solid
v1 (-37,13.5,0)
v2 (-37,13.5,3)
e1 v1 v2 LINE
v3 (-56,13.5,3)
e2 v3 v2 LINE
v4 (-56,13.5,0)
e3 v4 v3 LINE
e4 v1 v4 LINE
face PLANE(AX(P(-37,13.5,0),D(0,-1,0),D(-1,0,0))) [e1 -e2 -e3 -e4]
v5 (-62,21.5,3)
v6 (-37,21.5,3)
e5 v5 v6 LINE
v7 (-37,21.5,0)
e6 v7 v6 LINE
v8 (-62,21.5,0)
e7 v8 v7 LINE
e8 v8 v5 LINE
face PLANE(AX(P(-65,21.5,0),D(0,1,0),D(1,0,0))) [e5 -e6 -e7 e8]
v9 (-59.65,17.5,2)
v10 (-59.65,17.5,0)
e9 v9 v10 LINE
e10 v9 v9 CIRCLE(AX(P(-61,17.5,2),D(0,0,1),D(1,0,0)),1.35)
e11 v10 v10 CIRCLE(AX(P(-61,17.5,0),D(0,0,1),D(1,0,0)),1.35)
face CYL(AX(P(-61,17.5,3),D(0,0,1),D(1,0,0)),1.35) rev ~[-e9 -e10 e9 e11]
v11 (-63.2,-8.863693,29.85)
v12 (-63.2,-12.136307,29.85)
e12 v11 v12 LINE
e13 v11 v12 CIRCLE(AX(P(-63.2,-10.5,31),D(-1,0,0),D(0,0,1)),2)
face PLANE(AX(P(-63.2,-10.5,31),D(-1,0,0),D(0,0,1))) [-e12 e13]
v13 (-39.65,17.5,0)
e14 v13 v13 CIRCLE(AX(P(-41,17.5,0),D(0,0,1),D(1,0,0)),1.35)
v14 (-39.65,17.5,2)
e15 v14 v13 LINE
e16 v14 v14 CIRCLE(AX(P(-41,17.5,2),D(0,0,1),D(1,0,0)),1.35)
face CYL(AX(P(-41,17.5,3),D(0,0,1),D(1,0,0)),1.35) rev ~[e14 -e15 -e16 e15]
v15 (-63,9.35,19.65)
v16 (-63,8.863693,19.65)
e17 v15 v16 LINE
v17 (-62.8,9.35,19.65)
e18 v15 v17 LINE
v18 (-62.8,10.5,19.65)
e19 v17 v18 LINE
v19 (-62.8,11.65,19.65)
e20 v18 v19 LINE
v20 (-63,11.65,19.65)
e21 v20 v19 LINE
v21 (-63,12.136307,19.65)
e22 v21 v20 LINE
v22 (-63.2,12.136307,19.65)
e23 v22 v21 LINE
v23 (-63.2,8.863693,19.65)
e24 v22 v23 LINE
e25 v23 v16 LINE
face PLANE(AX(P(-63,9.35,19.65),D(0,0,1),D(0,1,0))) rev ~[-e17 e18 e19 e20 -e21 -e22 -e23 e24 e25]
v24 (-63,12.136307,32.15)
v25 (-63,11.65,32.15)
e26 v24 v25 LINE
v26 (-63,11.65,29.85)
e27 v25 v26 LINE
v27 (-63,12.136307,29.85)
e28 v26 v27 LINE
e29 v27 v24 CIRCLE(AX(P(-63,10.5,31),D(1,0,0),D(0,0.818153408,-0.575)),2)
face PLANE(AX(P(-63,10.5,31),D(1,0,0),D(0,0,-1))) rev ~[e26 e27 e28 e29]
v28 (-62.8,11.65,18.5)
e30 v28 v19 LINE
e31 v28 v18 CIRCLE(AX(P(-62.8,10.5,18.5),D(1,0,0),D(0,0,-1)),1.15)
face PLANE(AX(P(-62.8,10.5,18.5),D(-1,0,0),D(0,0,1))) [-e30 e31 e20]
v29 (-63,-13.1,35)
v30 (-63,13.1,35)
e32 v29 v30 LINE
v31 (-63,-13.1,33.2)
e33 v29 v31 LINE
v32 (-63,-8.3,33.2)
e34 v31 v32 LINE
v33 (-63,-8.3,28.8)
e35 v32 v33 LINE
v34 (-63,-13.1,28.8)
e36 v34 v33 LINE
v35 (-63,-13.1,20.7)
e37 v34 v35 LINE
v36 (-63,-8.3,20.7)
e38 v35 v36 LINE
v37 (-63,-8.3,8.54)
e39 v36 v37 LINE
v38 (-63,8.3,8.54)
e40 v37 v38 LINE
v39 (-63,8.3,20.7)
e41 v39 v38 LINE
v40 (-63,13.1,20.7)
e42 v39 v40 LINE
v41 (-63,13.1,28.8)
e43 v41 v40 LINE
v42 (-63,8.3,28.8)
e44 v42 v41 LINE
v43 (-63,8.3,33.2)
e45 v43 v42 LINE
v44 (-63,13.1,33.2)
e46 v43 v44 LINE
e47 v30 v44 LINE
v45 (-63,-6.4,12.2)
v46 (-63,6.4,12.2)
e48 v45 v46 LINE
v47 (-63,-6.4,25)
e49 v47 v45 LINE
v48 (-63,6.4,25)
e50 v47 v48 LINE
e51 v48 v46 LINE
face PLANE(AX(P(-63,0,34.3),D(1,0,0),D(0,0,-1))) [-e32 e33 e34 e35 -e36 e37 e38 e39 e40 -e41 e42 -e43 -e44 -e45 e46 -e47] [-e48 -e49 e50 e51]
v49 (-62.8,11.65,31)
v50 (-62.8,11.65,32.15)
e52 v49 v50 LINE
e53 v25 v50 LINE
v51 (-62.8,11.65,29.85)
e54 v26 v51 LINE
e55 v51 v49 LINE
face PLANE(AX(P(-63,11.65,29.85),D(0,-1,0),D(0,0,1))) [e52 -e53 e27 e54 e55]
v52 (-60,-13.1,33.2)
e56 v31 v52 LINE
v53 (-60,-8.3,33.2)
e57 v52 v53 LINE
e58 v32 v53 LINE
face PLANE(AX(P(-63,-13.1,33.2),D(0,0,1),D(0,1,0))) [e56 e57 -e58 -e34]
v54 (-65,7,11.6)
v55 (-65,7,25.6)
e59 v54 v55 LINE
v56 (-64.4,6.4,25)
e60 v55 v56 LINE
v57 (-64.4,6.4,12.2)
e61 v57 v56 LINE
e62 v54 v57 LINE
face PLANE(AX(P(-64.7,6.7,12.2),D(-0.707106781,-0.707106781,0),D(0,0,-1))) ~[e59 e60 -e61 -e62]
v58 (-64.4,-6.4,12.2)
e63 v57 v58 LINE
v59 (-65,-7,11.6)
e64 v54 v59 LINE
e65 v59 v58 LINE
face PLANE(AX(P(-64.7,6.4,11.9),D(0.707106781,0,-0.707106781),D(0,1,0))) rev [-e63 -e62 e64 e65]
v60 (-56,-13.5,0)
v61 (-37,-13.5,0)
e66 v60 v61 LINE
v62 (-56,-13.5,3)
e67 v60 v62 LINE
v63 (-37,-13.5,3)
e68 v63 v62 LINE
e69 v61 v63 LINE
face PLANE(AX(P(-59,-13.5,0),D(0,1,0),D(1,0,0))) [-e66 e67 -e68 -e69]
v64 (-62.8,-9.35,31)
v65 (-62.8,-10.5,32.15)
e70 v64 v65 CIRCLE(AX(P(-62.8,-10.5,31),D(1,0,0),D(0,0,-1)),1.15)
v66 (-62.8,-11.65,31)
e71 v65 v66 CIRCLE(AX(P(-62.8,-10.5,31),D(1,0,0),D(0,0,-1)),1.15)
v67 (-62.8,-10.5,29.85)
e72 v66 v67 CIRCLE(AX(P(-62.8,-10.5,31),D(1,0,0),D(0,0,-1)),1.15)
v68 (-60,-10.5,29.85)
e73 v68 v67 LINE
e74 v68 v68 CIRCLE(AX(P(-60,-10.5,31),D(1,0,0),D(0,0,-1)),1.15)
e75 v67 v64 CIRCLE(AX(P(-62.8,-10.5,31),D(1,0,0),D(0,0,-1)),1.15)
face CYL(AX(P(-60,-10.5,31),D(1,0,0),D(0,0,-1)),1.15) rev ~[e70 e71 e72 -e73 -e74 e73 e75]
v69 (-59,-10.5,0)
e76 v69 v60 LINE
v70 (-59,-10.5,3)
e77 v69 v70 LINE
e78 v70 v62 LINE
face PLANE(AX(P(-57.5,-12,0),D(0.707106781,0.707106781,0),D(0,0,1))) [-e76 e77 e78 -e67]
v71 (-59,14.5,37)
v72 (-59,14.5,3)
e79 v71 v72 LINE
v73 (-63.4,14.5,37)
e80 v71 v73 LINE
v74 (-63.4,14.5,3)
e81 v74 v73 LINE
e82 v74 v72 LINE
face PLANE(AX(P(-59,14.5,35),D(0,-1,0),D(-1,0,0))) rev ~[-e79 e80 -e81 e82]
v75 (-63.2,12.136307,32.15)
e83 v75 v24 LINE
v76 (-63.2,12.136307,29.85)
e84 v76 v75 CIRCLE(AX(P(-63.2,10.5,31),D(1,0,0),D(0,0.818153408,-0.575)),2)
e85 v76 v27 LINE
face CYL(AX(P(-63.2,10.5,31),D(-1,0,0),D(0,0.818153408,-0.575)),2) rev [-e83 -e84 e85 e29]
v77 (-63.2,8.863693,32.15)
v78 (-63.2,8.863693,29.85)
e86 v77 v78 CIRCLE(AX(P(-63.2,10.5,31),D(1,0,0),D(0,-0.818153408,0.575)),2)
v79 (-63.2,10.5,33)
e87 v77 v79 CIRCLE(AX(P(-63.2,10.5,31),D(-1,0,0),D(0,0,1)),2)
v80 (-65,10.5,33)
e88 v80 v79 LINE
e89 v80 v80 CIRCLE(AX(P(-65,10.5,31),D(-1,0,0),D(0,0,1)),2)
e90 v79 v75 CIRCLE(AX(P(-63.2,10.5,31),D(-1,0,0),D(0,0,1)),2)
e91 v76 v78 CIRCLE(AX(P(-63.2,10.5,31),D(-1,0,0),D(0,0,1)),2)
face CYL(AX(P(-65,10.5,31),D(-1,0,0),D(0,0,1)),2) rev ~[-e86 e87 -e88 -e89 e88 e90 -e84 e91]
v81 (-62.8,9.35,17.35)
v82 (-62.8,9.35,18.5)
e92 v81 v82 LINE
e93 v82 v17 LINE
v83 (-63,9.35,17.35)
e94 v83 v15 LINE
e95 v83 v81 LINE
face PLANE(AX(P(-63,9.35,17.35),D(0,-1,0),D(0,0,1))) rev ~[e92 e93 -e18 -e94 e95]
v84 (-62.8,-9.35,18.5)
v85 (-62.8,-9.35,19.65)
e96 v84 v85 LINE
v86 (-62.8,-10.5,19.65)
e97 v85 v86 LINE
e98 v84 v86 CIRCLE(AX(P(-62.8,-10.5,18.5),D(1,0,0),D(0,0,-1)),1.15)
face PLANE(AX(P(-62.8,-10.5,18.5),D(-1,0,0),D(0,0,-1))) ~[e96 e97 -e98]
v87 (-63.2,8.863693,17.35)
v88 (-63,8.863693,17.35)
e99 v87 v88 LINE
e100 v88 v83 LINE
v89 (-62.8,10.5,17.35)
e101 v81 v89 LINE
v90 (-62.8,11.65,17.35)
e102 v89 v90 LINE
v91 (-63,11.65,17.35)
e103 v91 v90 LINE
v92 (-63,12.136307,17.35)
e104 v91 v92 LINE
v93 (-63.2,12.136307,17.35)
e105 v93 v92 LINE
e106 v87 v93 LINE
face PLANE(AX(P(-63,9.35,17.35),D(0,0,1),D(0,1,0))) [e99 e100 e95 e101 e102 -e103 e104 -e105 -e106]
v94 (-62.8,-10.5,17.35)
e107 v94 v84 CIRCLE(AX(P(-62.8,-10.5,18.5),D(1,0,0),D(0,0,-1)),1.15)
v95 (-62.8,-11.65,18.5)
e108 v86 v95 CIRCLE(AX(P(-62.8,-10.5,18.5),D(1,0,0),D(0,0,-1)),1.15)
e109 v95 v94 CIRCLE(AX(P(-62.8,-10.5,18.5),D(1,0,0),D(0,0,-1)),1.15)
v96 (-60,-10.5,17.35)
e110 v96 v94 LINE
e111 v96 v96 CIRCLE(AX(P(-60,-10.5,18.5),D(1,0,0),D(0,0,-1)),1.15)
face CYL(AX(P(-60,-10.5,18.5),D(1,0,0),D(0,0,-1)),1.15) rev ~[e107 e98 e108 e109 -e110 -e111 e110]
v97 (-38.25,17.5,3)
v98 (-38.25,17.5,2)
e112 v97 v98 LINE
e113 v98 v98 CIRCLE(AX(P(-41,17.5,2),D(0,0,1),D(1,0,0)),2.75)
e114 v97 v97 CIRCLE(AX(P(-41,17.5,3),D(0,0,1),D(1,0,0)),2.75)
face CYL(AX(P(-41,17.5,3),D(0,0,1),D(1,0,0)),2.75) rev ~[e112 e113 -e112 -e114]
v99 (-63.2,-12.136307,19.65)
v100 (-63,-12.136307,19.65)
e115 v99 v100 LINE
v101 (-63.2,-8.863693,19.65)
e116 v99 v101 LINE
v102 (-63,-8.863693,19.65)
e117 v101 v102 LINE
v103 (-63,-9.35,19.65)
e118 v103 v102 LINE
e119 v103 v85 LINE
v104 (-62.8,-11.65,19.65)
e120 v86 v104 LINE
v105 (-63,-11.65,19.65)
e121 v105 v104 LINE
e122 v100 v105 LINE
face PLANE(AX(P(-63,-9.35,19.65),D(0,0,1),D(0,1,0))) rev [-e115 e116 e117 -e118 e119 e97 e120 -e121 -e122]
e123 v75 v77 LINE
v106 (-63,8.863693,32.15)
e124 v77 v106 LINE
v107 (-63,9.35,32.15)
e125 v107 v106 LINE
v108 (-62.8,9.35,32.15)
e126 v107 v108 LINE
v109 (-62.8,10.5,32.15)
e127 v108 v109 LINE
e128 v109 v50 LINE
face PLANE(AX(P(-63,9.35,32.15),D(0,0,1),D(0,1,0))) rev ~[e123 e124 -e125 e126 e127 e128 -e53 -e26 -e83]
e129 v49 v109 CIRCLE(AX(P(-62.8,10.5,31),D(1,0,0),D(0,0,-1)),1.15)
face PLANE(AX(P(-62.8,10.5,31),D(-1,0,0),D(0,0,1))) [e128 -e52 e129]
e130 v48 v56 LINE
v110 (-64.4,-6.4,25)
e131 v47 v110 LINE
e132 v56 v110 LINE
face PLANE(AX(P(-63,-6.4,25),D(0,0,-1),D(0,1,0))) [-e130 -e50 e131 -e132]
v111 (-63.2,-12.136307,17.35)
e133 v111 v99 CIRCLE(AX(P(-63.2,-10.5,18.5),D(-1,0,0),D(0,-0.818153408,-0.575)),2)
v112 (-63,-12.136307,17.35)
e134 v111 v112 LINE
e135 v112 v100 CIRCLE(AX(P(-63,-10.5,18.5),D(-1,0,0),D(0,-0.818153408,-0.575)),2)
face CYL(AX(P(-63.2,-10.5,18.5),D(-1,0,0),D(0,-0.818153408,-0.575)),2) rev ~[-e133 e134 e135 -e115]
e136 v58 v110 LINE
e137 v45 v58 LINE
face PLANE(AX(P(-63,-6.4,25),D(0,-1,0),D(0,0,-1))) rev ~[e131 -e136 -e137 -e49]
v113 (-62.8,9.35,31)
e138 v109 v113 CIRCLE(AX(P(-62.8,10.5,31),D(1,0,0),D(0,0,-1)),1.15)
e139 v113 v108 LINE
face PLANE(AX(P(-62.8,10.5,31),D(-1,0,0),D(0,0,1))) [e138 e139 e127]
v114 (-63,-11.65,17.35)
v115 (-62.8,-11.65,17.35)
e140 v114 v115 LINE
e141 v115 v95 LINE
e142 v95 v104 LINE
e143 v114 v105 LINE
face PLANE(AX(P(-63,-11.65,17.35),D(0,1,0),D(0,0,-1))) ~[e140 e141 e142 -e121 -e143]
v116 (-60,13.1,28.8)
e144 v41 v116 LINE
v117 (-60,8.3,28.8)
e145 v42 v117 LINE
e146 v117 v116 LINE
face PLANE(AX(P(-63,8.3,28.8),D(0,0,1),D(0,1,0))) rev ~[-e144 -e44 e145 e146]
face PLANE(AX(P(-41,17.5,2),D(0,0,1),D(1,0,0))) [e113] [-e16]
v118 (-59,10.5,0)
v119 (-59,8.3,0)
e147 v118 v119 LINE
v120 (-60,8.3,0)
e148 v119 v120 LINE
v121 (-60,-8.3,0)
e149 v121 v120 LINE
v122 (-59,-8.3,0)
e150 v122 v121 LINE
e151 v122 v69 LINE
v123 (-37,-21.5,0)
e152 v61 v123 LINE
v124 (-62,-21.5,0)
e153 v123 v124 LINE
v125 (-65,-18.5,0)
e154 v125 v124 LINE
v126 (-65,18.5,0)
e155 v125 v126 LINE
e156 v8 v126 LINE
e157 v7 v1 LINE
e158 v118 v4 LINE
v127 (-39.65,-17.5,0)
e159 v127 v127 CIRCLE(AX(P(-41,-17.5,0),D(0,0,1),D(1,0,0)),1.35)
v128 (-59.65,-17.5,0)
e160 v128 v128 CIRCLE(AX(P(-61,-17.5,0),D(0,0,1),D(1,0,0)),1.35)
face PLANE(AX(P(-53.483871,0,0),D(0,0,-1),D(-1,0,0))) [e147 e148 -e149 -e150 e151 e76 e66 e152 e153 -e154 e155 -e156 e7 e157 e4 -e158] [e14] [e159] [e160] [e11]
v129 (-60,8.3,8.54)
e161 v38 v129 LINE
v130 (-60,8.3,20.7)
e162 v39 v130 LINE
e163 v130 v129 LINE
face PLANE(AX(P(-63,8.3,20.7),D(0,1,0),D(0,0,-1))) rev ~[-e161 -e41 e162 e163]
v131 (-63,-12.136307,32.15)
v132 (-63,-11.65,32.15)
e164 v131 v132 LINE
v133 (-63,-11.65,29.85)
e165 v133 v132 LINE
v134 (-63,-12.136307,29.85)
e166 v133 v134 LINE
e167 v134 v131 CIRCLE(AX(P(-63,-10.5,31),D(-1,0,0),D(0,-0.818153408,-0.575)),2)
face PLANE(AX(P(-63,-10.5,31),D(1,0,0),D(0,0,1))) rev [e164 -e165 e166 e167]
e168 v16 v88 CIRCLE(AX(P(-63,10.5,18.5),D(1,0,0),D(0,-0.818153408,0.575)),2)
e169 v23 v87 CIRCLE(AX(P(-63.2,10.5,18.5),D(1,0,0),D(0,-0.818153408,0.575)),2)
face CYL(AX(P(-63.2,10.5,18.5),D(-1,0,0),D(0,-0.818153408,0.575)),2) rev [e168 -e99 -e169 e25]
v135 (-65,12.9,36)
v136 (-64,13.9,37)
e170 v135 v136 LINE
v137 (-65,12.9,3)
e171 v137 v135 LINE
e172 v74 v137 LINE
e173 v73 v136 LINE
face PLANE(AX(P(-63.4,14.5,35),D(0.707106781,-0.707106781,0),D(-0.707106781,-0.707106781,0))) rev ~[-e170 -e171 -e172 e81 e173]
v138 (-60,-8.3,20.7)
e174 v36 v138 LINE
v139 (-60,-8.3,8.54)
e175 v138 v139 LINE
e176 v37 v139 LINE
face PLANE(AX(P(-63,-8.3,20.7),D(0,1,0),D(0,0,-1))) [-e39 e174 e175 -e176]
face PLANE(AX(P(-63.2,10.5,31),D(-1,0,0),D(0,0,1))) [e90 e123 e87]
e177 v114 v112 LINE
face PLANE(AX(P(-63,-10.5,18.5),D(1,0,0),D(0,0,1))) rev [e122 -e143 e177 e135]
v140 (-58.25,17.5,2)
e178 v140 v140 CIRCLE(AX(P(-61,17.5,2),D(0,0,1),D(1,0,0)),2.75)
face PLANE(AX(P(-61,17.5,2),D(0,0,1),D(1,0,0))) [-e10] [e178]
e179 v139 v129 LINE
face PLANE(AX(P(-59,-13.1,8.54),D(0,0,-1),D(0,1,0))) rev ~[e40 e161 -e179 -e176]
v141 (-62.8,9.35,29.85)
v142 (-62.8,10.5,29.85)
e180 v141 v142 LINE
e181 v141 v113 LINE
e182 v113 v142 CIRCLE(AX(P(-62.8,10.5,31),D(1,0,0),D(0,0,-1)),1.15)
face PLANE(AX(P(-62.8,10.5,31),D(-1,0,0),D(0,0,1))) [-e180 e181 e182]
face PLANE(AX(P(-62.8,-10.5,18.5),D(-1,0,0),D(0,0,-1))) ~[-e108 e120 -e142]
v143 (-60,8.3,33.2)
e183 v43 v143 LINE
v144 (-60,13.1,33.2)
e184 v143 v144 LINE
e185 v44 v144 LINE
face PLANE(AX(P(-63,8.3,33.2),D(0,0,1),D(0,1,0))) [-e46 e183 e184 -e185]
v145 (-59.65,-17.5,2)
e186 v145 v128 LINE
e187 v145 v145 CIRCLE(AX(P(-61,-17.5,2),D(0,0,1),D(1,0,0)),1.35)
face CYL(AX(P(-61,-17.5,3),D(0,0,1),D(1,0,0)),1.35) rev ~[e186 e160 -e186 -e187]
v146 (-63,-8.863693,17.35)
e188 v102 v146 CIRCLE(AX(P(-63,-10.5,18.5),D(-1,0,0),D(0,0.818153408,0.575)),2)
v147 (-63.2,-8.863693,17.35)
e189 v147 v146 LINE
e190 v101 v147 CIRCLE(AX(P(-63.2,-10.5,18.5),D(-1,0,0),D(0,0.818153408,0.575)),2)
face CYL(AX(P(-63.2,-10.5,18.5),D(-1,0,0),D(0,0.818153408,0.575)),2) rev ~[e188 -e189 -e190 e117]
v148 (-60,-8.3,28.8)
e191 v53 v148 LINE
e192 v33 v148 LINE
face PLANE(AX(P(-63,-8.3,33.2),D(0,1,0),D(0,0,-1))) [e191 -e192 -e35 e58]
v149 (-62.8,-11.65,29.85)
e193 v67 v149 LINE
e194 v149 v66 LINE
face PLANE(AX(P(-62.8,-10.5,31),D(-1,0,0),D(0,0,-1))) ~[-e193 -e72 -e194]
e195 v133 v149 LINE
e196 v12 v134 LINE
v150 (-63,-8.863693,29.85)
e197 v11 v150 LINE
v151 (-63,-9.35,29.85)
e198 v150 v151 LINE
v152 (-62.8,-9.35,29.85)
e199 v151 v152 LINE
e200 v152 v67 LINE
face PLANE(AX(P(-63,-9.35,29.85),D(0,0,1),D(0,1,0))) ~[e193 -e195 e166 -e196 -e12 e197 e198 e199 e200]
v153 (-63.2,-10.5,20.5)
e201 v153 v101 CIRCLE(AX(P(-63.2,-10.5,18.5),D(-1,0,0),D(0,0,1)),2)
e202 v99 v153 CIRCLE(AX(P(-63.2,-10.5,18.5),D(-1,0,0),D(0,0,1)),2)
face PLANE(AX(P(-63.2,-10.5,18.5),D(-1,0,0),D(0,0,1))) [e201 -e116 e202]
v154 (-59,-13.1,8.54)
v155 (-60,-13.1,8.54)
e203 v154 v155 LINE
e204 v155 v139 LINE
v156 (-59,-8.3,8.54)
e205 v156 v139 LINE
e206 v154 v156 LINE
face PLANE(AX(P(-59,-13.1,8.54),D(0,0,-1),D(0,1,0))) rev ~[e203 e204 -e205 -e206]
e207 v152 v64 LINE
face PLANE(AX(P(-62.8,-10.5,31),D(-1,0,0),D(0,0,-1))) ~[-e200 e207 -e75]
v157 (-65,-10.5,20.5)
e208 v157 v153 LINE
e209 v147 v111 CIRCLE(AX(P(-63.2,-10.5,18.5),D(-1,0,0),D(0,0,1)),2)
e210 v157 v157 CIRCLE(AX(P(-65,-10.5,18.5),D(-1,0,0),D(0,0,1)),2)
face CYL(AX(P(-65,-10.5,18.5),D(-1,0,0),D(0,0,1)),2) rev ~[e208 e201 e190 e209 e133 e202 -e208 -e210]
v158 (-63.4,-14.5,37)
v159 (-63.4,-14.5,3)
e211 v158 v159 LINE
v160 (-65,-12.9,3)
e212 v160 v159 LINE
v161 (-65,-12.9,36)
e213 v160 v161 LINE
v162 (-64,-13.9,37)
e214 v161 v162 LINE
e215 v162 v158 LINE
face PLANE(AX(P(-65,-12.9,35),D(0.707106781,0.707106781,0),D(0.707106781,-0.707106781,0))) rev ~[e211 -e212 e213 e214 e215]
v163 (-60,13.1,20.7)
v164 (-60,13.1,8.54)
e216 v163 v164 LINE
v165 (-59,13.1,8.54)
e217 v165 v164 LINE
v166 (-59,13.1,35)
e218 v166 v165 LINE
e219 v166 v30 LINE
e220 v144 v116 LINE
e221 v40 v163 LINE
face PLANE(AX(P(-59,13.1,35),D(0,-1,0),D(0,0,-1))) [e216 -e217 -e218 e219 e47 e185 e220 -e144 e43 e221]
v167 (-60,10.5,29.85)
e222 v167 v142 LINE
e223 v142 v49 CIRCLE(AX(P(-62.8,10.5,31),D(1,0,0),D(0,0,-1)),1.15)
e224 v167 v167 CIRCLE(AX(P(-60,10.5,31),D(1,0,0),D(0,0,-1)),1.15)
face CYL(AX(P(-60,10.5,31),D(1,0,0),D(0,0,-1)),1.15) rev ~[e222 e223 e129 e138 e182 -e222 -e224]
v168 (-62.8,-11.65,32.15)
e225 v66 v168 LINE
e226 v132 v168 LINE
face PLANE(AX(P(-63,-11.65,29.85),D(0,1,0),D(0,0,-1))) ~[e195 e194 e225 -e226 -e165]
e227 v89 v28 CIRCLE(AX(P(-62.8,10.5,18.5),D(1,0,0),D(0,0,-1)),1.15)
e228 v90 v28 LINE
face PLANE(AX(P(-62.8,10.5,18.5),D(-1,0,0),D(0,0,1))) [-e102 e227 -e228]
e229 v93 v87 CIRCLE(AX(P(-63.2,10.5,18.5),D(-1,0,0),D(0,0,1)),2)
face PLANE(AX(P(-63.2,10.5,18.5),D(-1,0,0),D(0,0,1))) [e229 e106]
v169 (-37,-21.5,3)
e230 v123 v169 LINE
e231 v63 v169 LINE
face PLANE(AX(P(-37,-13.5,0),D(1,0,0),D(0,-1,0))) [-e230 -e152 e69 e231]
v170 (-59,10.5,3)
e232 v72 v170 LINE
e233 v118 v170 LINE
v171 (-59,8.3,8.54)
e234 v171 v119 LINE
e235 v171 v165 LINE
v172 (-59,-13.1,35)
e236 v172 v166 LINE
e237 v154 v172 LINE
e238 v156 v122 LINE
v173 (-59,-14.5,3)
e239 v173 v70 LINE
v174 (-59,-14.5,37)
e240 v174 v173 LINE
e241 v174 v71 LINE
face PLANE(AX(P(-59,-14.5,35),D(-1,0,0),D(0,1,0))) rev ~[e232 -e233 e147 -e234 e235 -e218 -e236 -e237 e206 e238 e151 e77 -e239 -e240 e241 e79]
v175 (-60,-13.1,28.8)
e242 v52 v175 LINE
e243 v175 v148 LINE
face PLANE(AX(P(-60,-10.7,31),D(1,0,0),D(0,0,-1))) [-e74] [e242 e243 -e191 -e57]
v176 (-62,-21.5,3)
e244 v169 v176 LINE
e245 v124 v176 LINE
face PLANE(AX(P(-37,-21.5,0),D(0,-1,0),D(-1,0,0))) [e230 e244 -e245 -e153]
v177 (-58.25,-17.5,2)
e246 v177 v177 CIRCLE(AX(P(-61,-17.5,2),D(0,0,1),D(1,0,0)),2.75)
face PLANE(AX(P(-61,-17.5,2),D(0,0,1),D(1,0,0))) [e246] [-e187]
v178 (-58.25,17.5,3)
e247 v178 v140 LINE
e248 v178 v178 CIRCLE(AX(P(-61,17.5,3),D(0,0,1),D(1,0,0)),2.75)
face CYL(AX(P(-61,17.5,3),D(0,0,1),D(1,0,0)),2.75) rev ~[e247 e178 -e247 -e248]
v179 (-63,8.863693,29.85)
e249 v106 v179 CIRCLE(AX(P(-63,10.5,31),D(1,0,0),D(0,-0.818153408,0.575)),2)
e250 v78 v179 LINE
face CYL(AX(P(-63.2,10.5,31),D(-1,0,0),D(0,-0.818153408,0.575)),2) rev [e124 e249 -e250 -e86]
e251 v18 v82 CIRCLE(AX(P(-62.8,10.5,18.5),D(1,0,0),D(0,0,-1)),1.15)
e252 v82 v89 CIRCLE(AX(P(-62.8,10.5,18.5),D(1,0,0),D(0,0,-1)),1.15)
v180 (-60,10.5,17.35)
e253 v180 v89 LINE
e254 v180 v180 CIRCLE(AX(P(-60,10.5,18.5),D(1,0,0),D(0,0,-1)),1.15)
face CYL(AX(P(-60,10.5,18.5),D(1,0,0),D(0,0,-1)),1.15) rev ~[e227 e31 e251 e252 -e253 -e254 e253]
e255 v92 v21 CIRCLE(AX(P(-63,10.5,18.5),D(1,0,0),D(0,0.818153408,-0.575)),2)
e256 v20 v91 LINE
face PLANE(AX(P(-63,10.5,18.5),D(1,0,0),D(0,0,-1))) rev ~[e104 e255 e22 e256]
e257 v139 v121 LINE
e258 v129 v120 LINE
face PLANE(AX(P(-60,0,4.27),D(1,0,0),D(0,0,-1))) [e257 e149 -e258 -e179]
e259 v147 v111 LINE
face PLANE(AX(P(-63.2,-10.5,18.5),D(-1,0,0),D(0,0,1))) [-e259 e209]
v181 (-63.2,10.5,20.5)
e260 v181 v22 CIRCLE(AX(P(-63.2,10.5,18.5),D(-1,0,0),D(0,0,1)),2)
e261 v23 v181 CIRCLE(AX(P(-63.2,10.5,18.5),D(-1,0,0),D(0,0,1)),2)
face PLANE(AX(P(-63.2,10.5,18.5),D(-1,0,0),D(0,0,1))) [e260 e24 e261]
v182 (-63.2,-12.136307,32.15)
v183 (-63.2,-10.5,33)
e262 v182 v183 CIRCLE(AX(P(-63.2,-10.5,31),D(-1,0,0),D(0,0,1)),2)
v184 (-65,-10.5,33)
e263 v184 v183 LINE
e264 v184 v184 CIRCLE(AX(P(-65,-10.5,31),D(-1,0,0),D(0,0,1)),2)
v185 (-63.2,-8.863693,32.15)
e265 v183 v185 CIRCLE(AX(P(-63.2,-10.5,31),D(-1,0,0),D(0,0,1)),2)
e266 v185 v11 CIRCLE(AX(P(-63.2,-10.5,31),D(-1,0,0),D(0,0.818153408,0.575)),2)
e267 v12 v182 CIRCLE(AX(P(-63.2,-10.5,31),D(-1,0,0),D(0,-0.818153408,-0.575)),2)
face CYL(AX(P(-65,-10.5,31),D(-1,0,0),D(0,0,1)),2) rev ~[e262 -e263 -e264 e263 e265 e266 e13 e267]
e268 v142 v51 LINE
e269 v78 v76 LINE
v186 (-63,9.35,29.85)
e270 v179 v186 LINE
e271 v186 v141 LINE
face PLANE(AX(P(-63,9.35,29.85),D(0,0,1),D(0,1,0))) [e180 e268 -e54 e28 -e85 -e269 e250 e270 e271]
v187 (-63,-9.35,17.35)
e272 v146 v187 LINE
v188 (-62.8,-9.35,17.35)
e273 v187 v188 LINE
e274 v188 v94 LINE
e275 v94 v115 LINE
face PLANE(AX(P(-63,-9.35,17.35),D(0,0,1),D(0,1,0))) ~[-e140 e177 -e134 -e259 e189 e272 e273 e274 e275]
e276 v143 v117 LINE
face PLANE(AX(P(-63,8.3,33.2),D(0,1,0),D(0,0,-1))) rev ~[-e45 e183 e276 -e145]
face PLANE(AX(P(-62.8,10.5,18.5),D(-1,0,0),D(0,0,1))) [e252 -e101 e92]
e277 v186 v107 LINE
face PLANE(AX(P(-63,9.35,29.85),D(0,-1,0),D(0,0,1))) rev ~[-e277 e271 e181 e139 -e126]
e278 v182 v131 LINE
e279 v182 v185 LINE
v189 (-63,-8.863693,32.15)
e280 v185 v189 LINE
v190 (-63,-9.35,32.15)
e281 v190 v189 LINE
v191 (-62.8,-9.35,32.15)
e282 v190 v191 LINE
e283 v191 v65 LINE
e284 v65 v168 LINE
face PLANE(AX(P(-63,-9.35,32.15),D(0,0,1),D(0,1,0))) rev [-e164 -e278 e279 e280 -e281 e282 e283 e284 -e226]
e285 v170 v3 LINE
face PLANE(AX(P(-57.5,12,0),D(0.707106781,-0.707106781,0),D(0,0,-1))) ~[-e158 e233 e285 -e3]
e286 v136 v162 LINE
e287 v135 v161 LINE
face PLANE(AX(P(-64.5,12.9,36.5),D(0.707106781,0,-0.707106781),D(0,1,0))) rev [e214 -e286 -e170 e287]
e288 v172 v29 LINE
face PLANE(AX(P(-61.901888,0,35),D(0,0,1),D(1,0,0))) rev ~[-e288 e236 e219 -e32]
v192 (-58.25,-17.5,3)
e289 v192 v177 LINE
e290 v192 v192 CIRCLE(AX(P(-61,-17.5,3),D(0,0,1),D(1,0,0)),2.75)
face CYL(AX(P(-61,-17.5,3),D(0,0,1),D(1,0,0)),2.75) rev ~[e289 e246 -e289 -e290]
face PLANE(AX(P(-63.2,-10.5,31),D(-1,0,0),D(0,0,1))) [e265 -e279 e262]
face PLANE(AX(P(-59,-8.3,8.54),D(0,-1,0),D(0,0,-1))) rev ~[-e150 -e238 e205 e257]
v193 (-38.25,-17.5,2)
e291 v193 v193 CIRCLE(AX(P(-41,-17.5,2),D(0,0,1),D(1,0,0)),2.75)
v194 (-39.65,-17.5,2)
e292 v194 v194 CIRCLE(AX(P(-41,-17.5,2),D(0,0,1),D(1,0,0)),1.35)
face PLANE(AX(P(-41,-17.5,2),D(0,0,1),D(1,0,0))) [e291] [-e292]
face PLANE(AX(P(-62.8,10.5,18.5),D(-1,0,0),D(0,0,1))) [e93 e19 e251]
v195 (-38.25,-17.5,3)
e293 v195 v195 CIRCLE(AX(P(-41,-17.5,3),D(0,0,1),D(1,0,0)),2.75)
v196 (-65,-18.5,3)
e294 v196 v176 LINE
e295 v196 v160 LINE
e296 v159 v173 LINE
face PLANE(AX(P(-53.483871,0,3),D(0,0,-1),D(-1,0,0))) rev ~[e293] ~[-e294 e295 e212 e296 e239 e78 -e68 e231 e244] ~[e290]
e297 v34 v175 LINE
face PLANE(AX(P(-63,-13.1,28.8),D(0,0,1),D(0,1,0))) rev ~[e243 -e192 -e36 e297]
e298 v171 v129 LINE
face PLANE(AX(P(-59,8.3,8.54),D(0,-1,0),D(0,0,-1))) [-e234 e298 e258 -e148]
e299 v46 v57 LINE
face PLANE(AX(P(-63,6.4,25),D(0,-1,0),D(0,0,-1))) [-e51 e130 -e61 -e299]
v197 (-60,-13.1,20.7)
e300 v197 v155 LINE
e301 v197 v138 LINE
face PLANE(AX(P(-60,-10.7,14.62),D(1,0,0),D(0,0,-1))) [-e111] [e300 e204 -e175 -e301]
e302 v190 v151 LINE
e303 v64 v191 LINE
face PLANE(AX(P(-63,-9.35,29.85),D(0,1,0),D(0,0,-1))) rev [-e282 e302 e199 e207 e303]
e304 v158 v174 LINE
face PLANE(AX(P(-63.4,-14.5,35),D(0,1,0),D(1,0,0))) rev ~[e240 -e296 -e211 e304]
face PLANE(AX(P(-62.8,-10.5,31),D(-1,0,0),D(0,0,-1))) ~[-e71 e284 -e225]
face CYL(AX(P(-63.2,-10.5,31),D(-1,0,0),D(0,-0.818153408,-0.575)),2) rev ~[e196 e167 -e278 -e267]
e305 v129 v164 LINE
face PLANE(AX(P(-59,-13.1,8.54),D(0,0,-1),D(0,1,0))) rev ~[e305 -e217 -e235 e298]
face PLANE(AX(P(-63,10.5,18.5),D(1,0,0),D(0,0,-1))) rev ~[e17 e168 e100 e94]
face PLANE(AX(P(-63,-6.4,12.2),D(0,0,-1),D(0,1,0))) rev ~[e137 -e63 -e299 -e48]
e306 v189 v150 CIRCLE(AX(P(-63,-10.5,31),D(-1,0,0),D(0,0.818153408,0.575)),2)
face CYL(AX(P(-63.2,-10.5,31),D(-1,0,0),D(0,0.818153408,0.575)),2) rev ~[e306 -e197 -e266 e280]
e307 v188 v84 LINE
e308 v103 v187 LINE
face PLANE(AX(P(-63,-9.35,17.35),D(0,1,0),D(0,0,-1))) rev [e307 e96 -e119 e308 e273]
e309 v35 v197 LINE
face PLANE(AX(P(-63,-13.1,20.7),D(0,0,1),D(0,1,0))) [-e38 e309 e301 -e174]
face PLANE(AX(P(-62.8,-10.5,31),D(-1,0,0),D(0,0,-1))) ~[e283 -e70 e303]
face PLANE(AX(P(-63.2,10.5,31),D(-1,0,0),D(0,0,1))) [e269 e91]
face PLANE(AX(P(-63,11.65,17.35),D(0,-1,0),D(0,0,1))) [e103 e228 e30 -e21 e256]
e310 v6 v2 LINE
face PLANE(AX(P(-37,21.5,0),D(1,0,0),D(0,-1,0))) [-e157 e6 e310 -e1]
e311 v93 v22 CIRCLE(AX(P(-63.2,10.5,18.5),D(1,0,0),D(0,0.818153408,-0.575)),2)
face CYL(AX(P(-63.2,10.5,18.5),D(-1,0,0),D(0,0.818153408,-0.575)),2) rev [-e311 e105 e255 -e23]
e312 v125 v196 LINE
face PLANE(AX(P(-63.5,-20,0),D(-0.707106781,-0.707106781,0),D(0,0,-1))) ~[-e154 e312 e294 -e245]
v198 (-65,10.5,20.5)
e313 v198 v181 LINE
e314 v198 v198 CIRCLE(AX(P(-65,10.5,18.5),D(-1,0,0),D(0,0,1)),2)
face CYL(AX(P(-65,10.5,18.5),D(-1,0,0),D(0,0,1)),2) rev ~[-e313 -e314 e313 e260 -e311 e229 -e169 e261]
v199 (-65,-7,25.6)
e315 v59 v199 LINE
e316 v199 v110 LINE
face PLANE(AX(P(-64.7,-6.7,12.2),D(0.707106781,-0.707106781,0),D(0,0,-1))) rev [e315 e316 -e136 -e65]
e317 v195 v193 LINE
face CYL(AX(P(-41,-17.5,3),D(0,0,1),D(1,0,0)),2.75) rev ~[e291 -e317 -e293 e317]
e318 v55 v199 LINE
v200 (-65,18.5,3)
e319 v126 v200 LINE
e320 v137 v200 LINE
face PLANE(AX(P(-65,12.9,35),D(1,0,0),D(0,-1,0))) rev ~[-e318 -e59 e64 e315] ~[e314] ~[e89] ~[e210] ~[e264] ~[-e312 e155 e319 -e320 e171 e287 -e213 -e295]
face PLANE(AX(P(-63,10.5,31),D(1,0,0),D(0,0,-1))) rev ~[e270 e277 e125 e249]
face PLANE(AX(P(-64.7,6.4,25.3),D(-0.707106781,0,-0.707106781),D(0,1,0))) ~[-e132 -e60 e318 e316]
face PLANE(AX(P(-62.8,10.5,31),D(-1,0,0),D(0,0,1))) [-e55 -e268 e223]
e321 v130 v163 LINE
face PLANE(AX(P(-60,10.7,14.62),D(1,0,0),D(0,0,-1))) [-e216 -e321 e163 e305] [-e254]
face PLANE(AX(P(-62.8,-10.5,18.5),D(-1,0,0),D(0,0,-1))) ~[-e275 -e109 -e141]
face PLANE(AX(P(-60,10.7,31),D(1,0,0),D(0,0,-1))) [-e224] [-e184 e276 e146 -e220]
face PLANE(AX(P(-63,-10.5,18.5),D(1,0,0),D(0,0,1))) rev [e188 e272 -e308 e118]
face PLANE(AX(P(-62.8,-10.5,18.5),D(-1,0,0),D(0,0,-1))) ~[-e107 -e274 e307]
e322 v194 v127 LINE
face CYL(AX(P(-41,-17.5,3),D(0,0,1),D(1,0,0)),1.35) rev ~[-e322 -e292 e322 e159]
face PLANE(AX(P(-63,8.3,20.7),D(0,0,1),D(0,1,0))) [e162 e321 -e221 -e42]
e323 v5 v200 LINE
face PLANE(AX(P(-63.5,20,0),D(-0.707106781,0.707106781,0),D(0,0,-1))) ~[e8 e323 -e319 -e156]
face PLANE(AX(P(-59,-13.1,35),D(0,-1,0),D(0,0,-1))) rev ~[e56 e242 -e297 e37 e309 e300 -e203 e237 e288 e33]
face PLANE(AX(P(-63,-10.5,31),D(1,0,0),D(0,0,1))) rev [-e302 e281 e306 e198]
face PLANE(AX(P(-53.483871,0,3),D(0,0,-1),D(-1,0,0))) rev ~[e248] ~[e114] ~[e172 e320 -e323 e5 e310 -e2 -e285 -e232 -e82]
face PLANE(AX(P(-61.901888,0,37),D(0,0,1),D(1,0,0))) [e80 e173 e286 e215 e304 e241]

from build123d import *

# Parameters (mm, degrees)
BOSS_EXTRUDE1_DEPTH  = 3
SKETCH3_R            = 1.35
CUT_EXTRUDE1_DEPTH   = 4
SKETCH4_W            = 6
SKETCH4_H            = 27
BOSS_EXTRUDE2_DEPTH  = 32
SKETCH5_R            = 9
CUT_EXTRUDE2_DEPTH   = 29
SKETCH6_W            = 8
SKETCH6_H            = 25
CUT_EXTRUDE3_DEPTH   = 3
SKETCH7_R            = 2.5
SKETCH7_R_2          = 1.65
BOSS_EXTRUDE3_DEPTH  = 3
SKETCH8_R            = 1.65
CUT_EXTRUDE4_DEPTH   = 3
CHAMFER1_SIZE        = 0.6
SKETCH9_R            = 2.75
CUT_EXTRUDE5_DEPTH   = 1
CHAMFER2_SIZE        = 3
CHAMFER3_SIZE        = 3
SKETCH10_W           = 32
SKETCH10_H           = 27
CUT_EXTRUDE6_DEPTH   = 20
SKETCH11_R           = 1.65
BOSS_EXTRUDE5_DEPTH  = 3
BOSS_EXTRUDE6_DEPTH  = 3
SKETCH12_R           = 9
BOSS_EXTRUDE7_DEPTH  = 3
SKETCH15_W           = 25.06
SKETCH15_H           = 26.2
CUT_EXTRUDE7_DEPTH   = 4
SKETCH16_W           = 12.8
SKETCH16_H           = 12.8
CUT_EXTRUDE8_DEPTH   = 3
SKETCH17_W           = 12.16
SKETCH17_H           = 4.8
SKETCH17_W_2         = 4.4
BOSS_EXTRUDE8_DEPTH  = 3
SKETCH18_R           = 1.15
CUT_EXTRUDE9_DEPTH   = 6
SKETCH19_R           = 2
CUT_EXTRUDE11_DEPTH  = 1.8
CUT_EXTRUDE13_DEPTH  = 0.2
SKETCH21_W           = 2.3
SKETCH21_H           = 2.3
CUT_EXTRUDE14_DEPTH  = 0.2
CHAMFER4_SIZE        = 0.6
SKETCH22_W           = 1.4
SKETCH22_H           = 26.2
CUT_EXTRUDE15_DEPTH  = 4
BOSS_EXTRUDE9_DEPTH  = 32
SKETCH24_W           = 8.54
SKETCH24_H           = 16.6
CUT_EXTRUDE16_DEPTH  = 1
BOSS_EXTRUDE10_DEPTH = 2
CHAMFER5_SIZE        = 1


with BuildPart() as part:
    # Sketch2 → Boss-Extrude1 (new body)
    with BuildSketch(Plane.XY):
        Polygon((-65, 21.5), (-37, 21.5), (-37, 13.5), (-59, 13.5), (-59, -13.5), (-37, -13.5), (-37, -21.5), (-65, -21.5), align=None)
    extrude(amount=BOSS_EXTRUDE1_DEPTH)

    # Sketch3 → Cut-Extrude1 (cut, through all)
    with BuildSketch(Plane.XY.offset(3)):
        with Locations((-41, 17.5)):
            Circle(SKETCH3_R)
        with Locations((-61, 17.5)):
            Circle(SKETCH3_R)
        with Locations((-61, -17.5)):
            Circle(SKETCH3_R)
        with Locations((-41, -17.5)):
            Circle(SKETCH3_R)
    extrude(amount=-CUT_EXTRUDE1_DEPTH, mode=Mode.SUBTRACT)

    # Sketch4 → Boss-Extrude2 (add)
    with BuildSketch(Plane.XY.offset(3)):
        with Locations((-62, 0)):
            Rectangle(SKETCH4_W, SKETCH4_H)
    extrude(amount=BOSS_EXTRUDE2_DEPTH)

    # Sketch5 → Cut-Extrude2 (cut, through all)
    with BuildSketch(Plane.ZY.offset(65)):
        with Locations((23, 0)):
            Circle(SKETCH5_R)
    extrude(amount=-CUT_EXTRUDE2_DEPTH, mode=Mode.SUBTRACT)

    # Sketch6 → Cut-Extrude3 (cut)
    with BuildSketch(Plane(origin=(-59, 0, 0), x_dir=(0, 0, -1), z_dir=(1, 0, 0))):
        with Locations((-23, 0)):
            Rectangle(SKETCH6_W, SKETCH6_H)
    extrude(amount=-CUT_EXTRUDE3_DEPTH, mode=Mode.SUBTRACT)

    # Sketch7 → Boss-Extrude3 (add)
    with BuildSketch(Plane(origin=(-59, 0, 0), x_dir=(0, 0, -1), z_dir=(1, 0, 0))):
        with Locations((-30, 10.5)):
            Circle(SKETCH7_R)
        with Locations((-30, 10.5)):
            Circle(SKETCH7_R_2, mode=Mode.SUBTRACT)
        with Locations((-16, 10.5)):
            Circle(SKETCH7_R)
        with Locations((-16, 10.5)):
            Circle(SKETCH7_R_2, mode=Mode.SUBTRACT)
        with Locations((-16, -10.5)):
            Circle(SKETCH7_R)
        with Locations((-16, -10.5)):
            Circle(SKETCH7_R_2, mode=Mode.SUBTRACT)
        with Locations((-30, -10.5)):
            Circle(SKETCH7_R)
        with Locations((-30, -10.5)):
            Circle(SKETCH7_R_2, mode=Mode.SUBTRACT)
    extrude(amount=BOSS_EXTRUDE3_DEPTH)

    # Sketch8 → Cut-Extrude4 (cut)
    with BuildSketch(Plane(origin=(-59, 0, 0), x_dir=(0, 0, -1), z_dir=(1, 0, 0))):
        with Locations((-30, -10.5)):
            Circle(SKETCH8_R)
        with Locations((-16, -10.5)):
            Circle(SKETCH8_R)
        with Locations((-16, 10.5)):
            Circle(SKETCH8_R)
        with Locations((-30, 10.5)):
            Circle(SKETCH8_R)
    extrude(amount=-CUT_EXTRUDE4_DEPTH, mode=Mode.SUBTRACT)

    # Chamfer1
    chamfer1_edges = [part.edges().sort_by_distance(p)[0] for p in [
        (-65, 13.5, 19),
        (-65, -13.5, 19),
    ]]
    chamfer(chamfer1_edges, length=CHAMFER1_SIZE)

    # Sketch9 → Cut-Extrude5 (cut)
    with BuildSketch(Plane.XY.offset(3)):
        with Locations((-61, 17.5)):
            Circle(SKETCH9_R)
        with Locations((-41, 17.5)):
            Circle(SKETCH9_R)
        with Locations((-41, -17.5)):
            Circle(SKETCH9_R)
        with Locations((-61, -17.5)):
            Circle(SKETCH9_R)
    extrude(amount=-CUT_EXTRUDE5_DEPTH, mode=Mode.SUBTRACT)

    # Chamfer2
    chamfer2_edges = [part.edges().sort_by_distance(p)[0] for p in [
        (-59, 13.5, 1.5),
        (-59, -13.5, 1.5),
    ]]
    chamfer(chamfer2_edges, length=CHAMFER2_SIZE)

    # Chamfer3
    chamfer3_edges = [part.edges().sort_by_distance(p)[0] for p in [
        (-65, 21.5, 1.5),
        (-65, -21.5, 1.5),
    ]]
    chamfer(chamfer3_edges, length=CHAMFER3_SIZE)

    # Sketch10 → Cut-Extrude6 (cut)
    with BuildSketch(Plane(origin=(-59, 0, 0), x_dir=(0, 0, -1), z_dir=(1, 0, 0))):
        with Locations((-19, 0)):
            Rectangle(SKETCH10_W, SKETCH10_H)
    extrude(amount=CUT_EXTRUDE6_DEPTH, mode=Mode.SUBTRACT)

    # Sketch11 → Boss-Extrude5 (add)
    with BuildSketch(Plane(origin=(-59, 0, 0), x_dir=(0, 0, -1), z_dir=(1, 0, 0))):
        with Locations((-30, 10.5)):
            Circle(SKETCH11_R)
        with Locations((-16, 10.5)):
            Circle(SKETCH11_R)
        with Locations((-16, -10.5)):
            Circle(SKETCH11_R)
        with Locations((-30, -10.5)):
            Circle(SKETCH11_R)
    extrude(amount=-BOSS_EXTRUDE5_DEPTH)

    # Sketch11<3> → Boss-Extrude6 (add)
    with BuildSketch(Plane(origin=(-59, 0, 0), x_dir=(0, 0, -1), z_dir=(1, 0, 0))):
        with BuildLine():
            ThreePointArc((-27, 8.062257748), (-32, 0), (-27, -8.062257748))
            Line((-27, -8.062257748), (-27, -12.5))
            Line((-27, -12.5), (-19, -12.5))
            Line((-19, -12.5), (-19, -8.062257748))
            ThreePointArc((-19, -8.062257748), (-14, 0), (-19, 8.062257748))
            Line((-19, 8.062257748), (-19, 12.5))
            Line((-19, 12.5), (-27, 12.5))
            Line((-27, 12.5), (-27, 8.062257748))
        make_face()
    extrude(amount=-BOSS_EXTRUDE6_DEPTH)

    # Sketch12 → Boss-Extrude7 (add)
    with BuildSketch(Plane.ZY.offset(62)):
        with Locations((23, 0)):
            Circle(SKETCH12_R)
    extrude(amount=BOSS_EXTRUDE7_DEPTH)

    # Sketch15 → Cut-Extrude7 (cut)
    with BuildSketch(Plane(origin=(-59, 0, 0), x_dir=(0, 0, -1), z_dir=(1, 0, 0))):
        with Locations((-21.07, 0)):
            Rectangle(SKETCH15_W, SKETCH15_H)
    extrude(amount=-CUT_EXTRUDE7_DEPTH, mode=Mode.SUBTRACT)

    # Sketch16 → Cut-Extrude8 (cut, through all)
    with BuildSketch(Plane(origin=(-63, 0, 0), x_dir=(0, 0, -1), z_dir=(1, 0, 0))):
        with Locations((-18.6, 0)):
            Rectangle(SKETCH16_W, SKETCH16_H)
    extrude(amount=-CUT_EXTRUDE8_DEPTH, mode=Mode.SUBTRACT)

    # Sketch17 → Boss-Extrude8 (add)
    with BuildSketch(Plane(origin=(-63, 0, 0), x_dir=(0, 0, -1), z_dir=(1, 0, 0))):
        with Locations((-14.62, -10.7)):
            Rectangle(SKETCH17_W, SKETCH17_H)
        with Locations((-31, -10.7)):
            Rectangle(SKETCH17_W_2, SKETCH17_H)
        with Locations((-31, 10.7)):
            Rectangle(SKETCH17_W_2, SKETCH17_H)
        with Locations((-14.62, 10.7)):
            Rectangle(SKETCH17_W, SKETCH17_H)
    extrude(amount=BOSS_EXTRUDE8_DEPTH)

    # Sketch18 → Cut-Extrude9 (cut, through all)
    with BuildSketch(Plane(origin=(-60, 0, 0), x_dir=(0, 0, -1), z_dir=(1, 0, 0))):
        with Locations((-31, 10.5)):
            Circle(SKETCH18_R)
        with Locations((-18.5, 10.5)):
            Circle(SKETCH18_R)
        with Locations((-18.5, -10.5)):
            Circle(SKETCH18_R)
        with Locations((-31, -10.5)):
            Circle(SKETCH18_R)
    extrude(amount=-CUT_EXTRUDE9_DEPTH, mode=Mode.SUBTRACT)

    # Sketch19 → Cut-Extrude11 (cut)
    with BuildSketch(Plane.ZY.offset(65)):
        with Locations((18.5, 10.5)):
            Circle(SKETCH19_R)
        with Locations((31, 10.5)):
            Circle(SKETCH19_R)
        with Locations((31, -10.5)):
            Circle(SKETCH19_R)
        with Locations((18.5, -10.5)):
            Circle(SKETCH19_R)
    extrude(amount=-CUT_EXTRUDE11_DEPTH, mode=Mode.SUBTRACT)

    # Sketch20 → Cut-Extrude13 (cut)
    with BuildSketch(Plane.ZY.offset(63.2)):
        with BuildLine():
            Line((17.35, 8.863693183), (17.35, 12.136306817))
            ThreePointArc((17.35, 12.136306817), (18.5, 12.5), (19.65, 12.136306817))
            Line((19.65, 12.136306817), (19.65, 8.863693183))
            ThreePointArc((19.65, 8.863693183), (18.5, 8.5), (17.35, 8.863693183))
        make_face()
        with BuildLine():
            Line((29.85, 8.863693183), (29.85, 12.136306817))
            ThreePointArc((29.85, 12.136306817), (31, 12.5), (32.15, 12.136306817))
            Line((32.15, 12.136306817), (32.15, 8.863693183))
            ThreePointArc((32.15, 8.863693183), (31, 8.5), (29.85, 8.863693183))
        make_face()
    cut_extrude13 = extrude(amount=-CUT_EXTRUDE13_DEPTH, mode=Mode.SUBTRACT)

    # Sketch21 → Cut-Extrude14 (cut)
    with BuildSketch(Plane.ZY.offset(63)):
        with Locations((18.5, 10.5)):
            Rectangle(SKETCH21_W, SKETCH21_H)
        with Locations((31, 10.5)):
            Rectangle(SKETCH21_W, SKETCH21_H)
    cut_extrude14 = extrude(amount=-CUT_EXTRUDE14_DEPTH, mode=Mode.SUBTRACT)

    # Mirror1: Cut-Extrude13, Cut-Extrude14 across plane
    add(cut_extrude13.mirror(Plane.ZX), mode=Mode.SUBTRACT)
    add(cut_extrude14.mirror(Plane.ZX), mode=Mode.SUBTRACT)

    # Chamfer4
    chamfer4_edges = [part.edges().sort_by_distance(p)[0] for p in [
        (-65, 0, 25),
        (-65, 6.4, 18.6),
        (-65, 0, 12.2),
        (-65, -6.4, 18.6),
    ]]
    chamfer(chamfer4_edges, length=CHAMFER4_SIZE)

    # Sketch22 → Cut-Extrude15 (cut)
    with BuildSketch(Plane(origin=(-59, 0, 0), x_dir=(0, 0, -1), z_dir=(1, 0, 0))):
        with Locations((-34.3, 0)):
            Rectangle(SKETCH22_W, SKETCH22_H)
    extrude(amount=-CUT_EXTRUDE15_DEPTH, mode=Mode.SUBTRACT)

    # Sketch23 → Boss-Extrude9 (add)
    with BuildSketch(Plane.XY.offset(35)):
        Polygon((-64.4, 13.5), (-63.4, 14.5), (-59, 14.5), (-59, 13.5), align=None)
        Polygon((-59, -13.5), (-64.4, -13.5), (-63.4, -14.5), (-59, -14.5), align=None)
    extrude(amount=-BOSS_EXTRUDE9_DEPTH)

    # Sketch24 → Cut-Extrude16 (cut)
    with BuildSketch(Plane(origin=(-59, 0, 0), x_dir=(0, 0, -1), z_dir=(1, 0, 0))):
        with Locations((-4.27, 0)):
            Rectangle(SKETCH24_W, SKETCH24_H)
    extrude(amount=-CUT_EXTRUDE16_DEPTH, mode=Mode.SUBTRACT)

    # Sketch27 → Boss-Extrude10 (add)
    with BuildSketch(Plane.XY.offset(35)):
        Polygon((-59, 14.5), (-63.4, 14.5), (-65, 12.9), (-65, -12.9), (-63.4, -14.5), (-59, -14.5), align=None)
    extrude(amount=BOSS_EXTRUDE10_DEPTH)

    # Chamfer5
    chamfer5_edges = [part.edges().sort_by_distance(p)[0] for p in [
        (-65, 0, 37),
    ]]
    chamfer(chamfer5_edges, length=CHAMFER5_SIZE)


solid = part.part
